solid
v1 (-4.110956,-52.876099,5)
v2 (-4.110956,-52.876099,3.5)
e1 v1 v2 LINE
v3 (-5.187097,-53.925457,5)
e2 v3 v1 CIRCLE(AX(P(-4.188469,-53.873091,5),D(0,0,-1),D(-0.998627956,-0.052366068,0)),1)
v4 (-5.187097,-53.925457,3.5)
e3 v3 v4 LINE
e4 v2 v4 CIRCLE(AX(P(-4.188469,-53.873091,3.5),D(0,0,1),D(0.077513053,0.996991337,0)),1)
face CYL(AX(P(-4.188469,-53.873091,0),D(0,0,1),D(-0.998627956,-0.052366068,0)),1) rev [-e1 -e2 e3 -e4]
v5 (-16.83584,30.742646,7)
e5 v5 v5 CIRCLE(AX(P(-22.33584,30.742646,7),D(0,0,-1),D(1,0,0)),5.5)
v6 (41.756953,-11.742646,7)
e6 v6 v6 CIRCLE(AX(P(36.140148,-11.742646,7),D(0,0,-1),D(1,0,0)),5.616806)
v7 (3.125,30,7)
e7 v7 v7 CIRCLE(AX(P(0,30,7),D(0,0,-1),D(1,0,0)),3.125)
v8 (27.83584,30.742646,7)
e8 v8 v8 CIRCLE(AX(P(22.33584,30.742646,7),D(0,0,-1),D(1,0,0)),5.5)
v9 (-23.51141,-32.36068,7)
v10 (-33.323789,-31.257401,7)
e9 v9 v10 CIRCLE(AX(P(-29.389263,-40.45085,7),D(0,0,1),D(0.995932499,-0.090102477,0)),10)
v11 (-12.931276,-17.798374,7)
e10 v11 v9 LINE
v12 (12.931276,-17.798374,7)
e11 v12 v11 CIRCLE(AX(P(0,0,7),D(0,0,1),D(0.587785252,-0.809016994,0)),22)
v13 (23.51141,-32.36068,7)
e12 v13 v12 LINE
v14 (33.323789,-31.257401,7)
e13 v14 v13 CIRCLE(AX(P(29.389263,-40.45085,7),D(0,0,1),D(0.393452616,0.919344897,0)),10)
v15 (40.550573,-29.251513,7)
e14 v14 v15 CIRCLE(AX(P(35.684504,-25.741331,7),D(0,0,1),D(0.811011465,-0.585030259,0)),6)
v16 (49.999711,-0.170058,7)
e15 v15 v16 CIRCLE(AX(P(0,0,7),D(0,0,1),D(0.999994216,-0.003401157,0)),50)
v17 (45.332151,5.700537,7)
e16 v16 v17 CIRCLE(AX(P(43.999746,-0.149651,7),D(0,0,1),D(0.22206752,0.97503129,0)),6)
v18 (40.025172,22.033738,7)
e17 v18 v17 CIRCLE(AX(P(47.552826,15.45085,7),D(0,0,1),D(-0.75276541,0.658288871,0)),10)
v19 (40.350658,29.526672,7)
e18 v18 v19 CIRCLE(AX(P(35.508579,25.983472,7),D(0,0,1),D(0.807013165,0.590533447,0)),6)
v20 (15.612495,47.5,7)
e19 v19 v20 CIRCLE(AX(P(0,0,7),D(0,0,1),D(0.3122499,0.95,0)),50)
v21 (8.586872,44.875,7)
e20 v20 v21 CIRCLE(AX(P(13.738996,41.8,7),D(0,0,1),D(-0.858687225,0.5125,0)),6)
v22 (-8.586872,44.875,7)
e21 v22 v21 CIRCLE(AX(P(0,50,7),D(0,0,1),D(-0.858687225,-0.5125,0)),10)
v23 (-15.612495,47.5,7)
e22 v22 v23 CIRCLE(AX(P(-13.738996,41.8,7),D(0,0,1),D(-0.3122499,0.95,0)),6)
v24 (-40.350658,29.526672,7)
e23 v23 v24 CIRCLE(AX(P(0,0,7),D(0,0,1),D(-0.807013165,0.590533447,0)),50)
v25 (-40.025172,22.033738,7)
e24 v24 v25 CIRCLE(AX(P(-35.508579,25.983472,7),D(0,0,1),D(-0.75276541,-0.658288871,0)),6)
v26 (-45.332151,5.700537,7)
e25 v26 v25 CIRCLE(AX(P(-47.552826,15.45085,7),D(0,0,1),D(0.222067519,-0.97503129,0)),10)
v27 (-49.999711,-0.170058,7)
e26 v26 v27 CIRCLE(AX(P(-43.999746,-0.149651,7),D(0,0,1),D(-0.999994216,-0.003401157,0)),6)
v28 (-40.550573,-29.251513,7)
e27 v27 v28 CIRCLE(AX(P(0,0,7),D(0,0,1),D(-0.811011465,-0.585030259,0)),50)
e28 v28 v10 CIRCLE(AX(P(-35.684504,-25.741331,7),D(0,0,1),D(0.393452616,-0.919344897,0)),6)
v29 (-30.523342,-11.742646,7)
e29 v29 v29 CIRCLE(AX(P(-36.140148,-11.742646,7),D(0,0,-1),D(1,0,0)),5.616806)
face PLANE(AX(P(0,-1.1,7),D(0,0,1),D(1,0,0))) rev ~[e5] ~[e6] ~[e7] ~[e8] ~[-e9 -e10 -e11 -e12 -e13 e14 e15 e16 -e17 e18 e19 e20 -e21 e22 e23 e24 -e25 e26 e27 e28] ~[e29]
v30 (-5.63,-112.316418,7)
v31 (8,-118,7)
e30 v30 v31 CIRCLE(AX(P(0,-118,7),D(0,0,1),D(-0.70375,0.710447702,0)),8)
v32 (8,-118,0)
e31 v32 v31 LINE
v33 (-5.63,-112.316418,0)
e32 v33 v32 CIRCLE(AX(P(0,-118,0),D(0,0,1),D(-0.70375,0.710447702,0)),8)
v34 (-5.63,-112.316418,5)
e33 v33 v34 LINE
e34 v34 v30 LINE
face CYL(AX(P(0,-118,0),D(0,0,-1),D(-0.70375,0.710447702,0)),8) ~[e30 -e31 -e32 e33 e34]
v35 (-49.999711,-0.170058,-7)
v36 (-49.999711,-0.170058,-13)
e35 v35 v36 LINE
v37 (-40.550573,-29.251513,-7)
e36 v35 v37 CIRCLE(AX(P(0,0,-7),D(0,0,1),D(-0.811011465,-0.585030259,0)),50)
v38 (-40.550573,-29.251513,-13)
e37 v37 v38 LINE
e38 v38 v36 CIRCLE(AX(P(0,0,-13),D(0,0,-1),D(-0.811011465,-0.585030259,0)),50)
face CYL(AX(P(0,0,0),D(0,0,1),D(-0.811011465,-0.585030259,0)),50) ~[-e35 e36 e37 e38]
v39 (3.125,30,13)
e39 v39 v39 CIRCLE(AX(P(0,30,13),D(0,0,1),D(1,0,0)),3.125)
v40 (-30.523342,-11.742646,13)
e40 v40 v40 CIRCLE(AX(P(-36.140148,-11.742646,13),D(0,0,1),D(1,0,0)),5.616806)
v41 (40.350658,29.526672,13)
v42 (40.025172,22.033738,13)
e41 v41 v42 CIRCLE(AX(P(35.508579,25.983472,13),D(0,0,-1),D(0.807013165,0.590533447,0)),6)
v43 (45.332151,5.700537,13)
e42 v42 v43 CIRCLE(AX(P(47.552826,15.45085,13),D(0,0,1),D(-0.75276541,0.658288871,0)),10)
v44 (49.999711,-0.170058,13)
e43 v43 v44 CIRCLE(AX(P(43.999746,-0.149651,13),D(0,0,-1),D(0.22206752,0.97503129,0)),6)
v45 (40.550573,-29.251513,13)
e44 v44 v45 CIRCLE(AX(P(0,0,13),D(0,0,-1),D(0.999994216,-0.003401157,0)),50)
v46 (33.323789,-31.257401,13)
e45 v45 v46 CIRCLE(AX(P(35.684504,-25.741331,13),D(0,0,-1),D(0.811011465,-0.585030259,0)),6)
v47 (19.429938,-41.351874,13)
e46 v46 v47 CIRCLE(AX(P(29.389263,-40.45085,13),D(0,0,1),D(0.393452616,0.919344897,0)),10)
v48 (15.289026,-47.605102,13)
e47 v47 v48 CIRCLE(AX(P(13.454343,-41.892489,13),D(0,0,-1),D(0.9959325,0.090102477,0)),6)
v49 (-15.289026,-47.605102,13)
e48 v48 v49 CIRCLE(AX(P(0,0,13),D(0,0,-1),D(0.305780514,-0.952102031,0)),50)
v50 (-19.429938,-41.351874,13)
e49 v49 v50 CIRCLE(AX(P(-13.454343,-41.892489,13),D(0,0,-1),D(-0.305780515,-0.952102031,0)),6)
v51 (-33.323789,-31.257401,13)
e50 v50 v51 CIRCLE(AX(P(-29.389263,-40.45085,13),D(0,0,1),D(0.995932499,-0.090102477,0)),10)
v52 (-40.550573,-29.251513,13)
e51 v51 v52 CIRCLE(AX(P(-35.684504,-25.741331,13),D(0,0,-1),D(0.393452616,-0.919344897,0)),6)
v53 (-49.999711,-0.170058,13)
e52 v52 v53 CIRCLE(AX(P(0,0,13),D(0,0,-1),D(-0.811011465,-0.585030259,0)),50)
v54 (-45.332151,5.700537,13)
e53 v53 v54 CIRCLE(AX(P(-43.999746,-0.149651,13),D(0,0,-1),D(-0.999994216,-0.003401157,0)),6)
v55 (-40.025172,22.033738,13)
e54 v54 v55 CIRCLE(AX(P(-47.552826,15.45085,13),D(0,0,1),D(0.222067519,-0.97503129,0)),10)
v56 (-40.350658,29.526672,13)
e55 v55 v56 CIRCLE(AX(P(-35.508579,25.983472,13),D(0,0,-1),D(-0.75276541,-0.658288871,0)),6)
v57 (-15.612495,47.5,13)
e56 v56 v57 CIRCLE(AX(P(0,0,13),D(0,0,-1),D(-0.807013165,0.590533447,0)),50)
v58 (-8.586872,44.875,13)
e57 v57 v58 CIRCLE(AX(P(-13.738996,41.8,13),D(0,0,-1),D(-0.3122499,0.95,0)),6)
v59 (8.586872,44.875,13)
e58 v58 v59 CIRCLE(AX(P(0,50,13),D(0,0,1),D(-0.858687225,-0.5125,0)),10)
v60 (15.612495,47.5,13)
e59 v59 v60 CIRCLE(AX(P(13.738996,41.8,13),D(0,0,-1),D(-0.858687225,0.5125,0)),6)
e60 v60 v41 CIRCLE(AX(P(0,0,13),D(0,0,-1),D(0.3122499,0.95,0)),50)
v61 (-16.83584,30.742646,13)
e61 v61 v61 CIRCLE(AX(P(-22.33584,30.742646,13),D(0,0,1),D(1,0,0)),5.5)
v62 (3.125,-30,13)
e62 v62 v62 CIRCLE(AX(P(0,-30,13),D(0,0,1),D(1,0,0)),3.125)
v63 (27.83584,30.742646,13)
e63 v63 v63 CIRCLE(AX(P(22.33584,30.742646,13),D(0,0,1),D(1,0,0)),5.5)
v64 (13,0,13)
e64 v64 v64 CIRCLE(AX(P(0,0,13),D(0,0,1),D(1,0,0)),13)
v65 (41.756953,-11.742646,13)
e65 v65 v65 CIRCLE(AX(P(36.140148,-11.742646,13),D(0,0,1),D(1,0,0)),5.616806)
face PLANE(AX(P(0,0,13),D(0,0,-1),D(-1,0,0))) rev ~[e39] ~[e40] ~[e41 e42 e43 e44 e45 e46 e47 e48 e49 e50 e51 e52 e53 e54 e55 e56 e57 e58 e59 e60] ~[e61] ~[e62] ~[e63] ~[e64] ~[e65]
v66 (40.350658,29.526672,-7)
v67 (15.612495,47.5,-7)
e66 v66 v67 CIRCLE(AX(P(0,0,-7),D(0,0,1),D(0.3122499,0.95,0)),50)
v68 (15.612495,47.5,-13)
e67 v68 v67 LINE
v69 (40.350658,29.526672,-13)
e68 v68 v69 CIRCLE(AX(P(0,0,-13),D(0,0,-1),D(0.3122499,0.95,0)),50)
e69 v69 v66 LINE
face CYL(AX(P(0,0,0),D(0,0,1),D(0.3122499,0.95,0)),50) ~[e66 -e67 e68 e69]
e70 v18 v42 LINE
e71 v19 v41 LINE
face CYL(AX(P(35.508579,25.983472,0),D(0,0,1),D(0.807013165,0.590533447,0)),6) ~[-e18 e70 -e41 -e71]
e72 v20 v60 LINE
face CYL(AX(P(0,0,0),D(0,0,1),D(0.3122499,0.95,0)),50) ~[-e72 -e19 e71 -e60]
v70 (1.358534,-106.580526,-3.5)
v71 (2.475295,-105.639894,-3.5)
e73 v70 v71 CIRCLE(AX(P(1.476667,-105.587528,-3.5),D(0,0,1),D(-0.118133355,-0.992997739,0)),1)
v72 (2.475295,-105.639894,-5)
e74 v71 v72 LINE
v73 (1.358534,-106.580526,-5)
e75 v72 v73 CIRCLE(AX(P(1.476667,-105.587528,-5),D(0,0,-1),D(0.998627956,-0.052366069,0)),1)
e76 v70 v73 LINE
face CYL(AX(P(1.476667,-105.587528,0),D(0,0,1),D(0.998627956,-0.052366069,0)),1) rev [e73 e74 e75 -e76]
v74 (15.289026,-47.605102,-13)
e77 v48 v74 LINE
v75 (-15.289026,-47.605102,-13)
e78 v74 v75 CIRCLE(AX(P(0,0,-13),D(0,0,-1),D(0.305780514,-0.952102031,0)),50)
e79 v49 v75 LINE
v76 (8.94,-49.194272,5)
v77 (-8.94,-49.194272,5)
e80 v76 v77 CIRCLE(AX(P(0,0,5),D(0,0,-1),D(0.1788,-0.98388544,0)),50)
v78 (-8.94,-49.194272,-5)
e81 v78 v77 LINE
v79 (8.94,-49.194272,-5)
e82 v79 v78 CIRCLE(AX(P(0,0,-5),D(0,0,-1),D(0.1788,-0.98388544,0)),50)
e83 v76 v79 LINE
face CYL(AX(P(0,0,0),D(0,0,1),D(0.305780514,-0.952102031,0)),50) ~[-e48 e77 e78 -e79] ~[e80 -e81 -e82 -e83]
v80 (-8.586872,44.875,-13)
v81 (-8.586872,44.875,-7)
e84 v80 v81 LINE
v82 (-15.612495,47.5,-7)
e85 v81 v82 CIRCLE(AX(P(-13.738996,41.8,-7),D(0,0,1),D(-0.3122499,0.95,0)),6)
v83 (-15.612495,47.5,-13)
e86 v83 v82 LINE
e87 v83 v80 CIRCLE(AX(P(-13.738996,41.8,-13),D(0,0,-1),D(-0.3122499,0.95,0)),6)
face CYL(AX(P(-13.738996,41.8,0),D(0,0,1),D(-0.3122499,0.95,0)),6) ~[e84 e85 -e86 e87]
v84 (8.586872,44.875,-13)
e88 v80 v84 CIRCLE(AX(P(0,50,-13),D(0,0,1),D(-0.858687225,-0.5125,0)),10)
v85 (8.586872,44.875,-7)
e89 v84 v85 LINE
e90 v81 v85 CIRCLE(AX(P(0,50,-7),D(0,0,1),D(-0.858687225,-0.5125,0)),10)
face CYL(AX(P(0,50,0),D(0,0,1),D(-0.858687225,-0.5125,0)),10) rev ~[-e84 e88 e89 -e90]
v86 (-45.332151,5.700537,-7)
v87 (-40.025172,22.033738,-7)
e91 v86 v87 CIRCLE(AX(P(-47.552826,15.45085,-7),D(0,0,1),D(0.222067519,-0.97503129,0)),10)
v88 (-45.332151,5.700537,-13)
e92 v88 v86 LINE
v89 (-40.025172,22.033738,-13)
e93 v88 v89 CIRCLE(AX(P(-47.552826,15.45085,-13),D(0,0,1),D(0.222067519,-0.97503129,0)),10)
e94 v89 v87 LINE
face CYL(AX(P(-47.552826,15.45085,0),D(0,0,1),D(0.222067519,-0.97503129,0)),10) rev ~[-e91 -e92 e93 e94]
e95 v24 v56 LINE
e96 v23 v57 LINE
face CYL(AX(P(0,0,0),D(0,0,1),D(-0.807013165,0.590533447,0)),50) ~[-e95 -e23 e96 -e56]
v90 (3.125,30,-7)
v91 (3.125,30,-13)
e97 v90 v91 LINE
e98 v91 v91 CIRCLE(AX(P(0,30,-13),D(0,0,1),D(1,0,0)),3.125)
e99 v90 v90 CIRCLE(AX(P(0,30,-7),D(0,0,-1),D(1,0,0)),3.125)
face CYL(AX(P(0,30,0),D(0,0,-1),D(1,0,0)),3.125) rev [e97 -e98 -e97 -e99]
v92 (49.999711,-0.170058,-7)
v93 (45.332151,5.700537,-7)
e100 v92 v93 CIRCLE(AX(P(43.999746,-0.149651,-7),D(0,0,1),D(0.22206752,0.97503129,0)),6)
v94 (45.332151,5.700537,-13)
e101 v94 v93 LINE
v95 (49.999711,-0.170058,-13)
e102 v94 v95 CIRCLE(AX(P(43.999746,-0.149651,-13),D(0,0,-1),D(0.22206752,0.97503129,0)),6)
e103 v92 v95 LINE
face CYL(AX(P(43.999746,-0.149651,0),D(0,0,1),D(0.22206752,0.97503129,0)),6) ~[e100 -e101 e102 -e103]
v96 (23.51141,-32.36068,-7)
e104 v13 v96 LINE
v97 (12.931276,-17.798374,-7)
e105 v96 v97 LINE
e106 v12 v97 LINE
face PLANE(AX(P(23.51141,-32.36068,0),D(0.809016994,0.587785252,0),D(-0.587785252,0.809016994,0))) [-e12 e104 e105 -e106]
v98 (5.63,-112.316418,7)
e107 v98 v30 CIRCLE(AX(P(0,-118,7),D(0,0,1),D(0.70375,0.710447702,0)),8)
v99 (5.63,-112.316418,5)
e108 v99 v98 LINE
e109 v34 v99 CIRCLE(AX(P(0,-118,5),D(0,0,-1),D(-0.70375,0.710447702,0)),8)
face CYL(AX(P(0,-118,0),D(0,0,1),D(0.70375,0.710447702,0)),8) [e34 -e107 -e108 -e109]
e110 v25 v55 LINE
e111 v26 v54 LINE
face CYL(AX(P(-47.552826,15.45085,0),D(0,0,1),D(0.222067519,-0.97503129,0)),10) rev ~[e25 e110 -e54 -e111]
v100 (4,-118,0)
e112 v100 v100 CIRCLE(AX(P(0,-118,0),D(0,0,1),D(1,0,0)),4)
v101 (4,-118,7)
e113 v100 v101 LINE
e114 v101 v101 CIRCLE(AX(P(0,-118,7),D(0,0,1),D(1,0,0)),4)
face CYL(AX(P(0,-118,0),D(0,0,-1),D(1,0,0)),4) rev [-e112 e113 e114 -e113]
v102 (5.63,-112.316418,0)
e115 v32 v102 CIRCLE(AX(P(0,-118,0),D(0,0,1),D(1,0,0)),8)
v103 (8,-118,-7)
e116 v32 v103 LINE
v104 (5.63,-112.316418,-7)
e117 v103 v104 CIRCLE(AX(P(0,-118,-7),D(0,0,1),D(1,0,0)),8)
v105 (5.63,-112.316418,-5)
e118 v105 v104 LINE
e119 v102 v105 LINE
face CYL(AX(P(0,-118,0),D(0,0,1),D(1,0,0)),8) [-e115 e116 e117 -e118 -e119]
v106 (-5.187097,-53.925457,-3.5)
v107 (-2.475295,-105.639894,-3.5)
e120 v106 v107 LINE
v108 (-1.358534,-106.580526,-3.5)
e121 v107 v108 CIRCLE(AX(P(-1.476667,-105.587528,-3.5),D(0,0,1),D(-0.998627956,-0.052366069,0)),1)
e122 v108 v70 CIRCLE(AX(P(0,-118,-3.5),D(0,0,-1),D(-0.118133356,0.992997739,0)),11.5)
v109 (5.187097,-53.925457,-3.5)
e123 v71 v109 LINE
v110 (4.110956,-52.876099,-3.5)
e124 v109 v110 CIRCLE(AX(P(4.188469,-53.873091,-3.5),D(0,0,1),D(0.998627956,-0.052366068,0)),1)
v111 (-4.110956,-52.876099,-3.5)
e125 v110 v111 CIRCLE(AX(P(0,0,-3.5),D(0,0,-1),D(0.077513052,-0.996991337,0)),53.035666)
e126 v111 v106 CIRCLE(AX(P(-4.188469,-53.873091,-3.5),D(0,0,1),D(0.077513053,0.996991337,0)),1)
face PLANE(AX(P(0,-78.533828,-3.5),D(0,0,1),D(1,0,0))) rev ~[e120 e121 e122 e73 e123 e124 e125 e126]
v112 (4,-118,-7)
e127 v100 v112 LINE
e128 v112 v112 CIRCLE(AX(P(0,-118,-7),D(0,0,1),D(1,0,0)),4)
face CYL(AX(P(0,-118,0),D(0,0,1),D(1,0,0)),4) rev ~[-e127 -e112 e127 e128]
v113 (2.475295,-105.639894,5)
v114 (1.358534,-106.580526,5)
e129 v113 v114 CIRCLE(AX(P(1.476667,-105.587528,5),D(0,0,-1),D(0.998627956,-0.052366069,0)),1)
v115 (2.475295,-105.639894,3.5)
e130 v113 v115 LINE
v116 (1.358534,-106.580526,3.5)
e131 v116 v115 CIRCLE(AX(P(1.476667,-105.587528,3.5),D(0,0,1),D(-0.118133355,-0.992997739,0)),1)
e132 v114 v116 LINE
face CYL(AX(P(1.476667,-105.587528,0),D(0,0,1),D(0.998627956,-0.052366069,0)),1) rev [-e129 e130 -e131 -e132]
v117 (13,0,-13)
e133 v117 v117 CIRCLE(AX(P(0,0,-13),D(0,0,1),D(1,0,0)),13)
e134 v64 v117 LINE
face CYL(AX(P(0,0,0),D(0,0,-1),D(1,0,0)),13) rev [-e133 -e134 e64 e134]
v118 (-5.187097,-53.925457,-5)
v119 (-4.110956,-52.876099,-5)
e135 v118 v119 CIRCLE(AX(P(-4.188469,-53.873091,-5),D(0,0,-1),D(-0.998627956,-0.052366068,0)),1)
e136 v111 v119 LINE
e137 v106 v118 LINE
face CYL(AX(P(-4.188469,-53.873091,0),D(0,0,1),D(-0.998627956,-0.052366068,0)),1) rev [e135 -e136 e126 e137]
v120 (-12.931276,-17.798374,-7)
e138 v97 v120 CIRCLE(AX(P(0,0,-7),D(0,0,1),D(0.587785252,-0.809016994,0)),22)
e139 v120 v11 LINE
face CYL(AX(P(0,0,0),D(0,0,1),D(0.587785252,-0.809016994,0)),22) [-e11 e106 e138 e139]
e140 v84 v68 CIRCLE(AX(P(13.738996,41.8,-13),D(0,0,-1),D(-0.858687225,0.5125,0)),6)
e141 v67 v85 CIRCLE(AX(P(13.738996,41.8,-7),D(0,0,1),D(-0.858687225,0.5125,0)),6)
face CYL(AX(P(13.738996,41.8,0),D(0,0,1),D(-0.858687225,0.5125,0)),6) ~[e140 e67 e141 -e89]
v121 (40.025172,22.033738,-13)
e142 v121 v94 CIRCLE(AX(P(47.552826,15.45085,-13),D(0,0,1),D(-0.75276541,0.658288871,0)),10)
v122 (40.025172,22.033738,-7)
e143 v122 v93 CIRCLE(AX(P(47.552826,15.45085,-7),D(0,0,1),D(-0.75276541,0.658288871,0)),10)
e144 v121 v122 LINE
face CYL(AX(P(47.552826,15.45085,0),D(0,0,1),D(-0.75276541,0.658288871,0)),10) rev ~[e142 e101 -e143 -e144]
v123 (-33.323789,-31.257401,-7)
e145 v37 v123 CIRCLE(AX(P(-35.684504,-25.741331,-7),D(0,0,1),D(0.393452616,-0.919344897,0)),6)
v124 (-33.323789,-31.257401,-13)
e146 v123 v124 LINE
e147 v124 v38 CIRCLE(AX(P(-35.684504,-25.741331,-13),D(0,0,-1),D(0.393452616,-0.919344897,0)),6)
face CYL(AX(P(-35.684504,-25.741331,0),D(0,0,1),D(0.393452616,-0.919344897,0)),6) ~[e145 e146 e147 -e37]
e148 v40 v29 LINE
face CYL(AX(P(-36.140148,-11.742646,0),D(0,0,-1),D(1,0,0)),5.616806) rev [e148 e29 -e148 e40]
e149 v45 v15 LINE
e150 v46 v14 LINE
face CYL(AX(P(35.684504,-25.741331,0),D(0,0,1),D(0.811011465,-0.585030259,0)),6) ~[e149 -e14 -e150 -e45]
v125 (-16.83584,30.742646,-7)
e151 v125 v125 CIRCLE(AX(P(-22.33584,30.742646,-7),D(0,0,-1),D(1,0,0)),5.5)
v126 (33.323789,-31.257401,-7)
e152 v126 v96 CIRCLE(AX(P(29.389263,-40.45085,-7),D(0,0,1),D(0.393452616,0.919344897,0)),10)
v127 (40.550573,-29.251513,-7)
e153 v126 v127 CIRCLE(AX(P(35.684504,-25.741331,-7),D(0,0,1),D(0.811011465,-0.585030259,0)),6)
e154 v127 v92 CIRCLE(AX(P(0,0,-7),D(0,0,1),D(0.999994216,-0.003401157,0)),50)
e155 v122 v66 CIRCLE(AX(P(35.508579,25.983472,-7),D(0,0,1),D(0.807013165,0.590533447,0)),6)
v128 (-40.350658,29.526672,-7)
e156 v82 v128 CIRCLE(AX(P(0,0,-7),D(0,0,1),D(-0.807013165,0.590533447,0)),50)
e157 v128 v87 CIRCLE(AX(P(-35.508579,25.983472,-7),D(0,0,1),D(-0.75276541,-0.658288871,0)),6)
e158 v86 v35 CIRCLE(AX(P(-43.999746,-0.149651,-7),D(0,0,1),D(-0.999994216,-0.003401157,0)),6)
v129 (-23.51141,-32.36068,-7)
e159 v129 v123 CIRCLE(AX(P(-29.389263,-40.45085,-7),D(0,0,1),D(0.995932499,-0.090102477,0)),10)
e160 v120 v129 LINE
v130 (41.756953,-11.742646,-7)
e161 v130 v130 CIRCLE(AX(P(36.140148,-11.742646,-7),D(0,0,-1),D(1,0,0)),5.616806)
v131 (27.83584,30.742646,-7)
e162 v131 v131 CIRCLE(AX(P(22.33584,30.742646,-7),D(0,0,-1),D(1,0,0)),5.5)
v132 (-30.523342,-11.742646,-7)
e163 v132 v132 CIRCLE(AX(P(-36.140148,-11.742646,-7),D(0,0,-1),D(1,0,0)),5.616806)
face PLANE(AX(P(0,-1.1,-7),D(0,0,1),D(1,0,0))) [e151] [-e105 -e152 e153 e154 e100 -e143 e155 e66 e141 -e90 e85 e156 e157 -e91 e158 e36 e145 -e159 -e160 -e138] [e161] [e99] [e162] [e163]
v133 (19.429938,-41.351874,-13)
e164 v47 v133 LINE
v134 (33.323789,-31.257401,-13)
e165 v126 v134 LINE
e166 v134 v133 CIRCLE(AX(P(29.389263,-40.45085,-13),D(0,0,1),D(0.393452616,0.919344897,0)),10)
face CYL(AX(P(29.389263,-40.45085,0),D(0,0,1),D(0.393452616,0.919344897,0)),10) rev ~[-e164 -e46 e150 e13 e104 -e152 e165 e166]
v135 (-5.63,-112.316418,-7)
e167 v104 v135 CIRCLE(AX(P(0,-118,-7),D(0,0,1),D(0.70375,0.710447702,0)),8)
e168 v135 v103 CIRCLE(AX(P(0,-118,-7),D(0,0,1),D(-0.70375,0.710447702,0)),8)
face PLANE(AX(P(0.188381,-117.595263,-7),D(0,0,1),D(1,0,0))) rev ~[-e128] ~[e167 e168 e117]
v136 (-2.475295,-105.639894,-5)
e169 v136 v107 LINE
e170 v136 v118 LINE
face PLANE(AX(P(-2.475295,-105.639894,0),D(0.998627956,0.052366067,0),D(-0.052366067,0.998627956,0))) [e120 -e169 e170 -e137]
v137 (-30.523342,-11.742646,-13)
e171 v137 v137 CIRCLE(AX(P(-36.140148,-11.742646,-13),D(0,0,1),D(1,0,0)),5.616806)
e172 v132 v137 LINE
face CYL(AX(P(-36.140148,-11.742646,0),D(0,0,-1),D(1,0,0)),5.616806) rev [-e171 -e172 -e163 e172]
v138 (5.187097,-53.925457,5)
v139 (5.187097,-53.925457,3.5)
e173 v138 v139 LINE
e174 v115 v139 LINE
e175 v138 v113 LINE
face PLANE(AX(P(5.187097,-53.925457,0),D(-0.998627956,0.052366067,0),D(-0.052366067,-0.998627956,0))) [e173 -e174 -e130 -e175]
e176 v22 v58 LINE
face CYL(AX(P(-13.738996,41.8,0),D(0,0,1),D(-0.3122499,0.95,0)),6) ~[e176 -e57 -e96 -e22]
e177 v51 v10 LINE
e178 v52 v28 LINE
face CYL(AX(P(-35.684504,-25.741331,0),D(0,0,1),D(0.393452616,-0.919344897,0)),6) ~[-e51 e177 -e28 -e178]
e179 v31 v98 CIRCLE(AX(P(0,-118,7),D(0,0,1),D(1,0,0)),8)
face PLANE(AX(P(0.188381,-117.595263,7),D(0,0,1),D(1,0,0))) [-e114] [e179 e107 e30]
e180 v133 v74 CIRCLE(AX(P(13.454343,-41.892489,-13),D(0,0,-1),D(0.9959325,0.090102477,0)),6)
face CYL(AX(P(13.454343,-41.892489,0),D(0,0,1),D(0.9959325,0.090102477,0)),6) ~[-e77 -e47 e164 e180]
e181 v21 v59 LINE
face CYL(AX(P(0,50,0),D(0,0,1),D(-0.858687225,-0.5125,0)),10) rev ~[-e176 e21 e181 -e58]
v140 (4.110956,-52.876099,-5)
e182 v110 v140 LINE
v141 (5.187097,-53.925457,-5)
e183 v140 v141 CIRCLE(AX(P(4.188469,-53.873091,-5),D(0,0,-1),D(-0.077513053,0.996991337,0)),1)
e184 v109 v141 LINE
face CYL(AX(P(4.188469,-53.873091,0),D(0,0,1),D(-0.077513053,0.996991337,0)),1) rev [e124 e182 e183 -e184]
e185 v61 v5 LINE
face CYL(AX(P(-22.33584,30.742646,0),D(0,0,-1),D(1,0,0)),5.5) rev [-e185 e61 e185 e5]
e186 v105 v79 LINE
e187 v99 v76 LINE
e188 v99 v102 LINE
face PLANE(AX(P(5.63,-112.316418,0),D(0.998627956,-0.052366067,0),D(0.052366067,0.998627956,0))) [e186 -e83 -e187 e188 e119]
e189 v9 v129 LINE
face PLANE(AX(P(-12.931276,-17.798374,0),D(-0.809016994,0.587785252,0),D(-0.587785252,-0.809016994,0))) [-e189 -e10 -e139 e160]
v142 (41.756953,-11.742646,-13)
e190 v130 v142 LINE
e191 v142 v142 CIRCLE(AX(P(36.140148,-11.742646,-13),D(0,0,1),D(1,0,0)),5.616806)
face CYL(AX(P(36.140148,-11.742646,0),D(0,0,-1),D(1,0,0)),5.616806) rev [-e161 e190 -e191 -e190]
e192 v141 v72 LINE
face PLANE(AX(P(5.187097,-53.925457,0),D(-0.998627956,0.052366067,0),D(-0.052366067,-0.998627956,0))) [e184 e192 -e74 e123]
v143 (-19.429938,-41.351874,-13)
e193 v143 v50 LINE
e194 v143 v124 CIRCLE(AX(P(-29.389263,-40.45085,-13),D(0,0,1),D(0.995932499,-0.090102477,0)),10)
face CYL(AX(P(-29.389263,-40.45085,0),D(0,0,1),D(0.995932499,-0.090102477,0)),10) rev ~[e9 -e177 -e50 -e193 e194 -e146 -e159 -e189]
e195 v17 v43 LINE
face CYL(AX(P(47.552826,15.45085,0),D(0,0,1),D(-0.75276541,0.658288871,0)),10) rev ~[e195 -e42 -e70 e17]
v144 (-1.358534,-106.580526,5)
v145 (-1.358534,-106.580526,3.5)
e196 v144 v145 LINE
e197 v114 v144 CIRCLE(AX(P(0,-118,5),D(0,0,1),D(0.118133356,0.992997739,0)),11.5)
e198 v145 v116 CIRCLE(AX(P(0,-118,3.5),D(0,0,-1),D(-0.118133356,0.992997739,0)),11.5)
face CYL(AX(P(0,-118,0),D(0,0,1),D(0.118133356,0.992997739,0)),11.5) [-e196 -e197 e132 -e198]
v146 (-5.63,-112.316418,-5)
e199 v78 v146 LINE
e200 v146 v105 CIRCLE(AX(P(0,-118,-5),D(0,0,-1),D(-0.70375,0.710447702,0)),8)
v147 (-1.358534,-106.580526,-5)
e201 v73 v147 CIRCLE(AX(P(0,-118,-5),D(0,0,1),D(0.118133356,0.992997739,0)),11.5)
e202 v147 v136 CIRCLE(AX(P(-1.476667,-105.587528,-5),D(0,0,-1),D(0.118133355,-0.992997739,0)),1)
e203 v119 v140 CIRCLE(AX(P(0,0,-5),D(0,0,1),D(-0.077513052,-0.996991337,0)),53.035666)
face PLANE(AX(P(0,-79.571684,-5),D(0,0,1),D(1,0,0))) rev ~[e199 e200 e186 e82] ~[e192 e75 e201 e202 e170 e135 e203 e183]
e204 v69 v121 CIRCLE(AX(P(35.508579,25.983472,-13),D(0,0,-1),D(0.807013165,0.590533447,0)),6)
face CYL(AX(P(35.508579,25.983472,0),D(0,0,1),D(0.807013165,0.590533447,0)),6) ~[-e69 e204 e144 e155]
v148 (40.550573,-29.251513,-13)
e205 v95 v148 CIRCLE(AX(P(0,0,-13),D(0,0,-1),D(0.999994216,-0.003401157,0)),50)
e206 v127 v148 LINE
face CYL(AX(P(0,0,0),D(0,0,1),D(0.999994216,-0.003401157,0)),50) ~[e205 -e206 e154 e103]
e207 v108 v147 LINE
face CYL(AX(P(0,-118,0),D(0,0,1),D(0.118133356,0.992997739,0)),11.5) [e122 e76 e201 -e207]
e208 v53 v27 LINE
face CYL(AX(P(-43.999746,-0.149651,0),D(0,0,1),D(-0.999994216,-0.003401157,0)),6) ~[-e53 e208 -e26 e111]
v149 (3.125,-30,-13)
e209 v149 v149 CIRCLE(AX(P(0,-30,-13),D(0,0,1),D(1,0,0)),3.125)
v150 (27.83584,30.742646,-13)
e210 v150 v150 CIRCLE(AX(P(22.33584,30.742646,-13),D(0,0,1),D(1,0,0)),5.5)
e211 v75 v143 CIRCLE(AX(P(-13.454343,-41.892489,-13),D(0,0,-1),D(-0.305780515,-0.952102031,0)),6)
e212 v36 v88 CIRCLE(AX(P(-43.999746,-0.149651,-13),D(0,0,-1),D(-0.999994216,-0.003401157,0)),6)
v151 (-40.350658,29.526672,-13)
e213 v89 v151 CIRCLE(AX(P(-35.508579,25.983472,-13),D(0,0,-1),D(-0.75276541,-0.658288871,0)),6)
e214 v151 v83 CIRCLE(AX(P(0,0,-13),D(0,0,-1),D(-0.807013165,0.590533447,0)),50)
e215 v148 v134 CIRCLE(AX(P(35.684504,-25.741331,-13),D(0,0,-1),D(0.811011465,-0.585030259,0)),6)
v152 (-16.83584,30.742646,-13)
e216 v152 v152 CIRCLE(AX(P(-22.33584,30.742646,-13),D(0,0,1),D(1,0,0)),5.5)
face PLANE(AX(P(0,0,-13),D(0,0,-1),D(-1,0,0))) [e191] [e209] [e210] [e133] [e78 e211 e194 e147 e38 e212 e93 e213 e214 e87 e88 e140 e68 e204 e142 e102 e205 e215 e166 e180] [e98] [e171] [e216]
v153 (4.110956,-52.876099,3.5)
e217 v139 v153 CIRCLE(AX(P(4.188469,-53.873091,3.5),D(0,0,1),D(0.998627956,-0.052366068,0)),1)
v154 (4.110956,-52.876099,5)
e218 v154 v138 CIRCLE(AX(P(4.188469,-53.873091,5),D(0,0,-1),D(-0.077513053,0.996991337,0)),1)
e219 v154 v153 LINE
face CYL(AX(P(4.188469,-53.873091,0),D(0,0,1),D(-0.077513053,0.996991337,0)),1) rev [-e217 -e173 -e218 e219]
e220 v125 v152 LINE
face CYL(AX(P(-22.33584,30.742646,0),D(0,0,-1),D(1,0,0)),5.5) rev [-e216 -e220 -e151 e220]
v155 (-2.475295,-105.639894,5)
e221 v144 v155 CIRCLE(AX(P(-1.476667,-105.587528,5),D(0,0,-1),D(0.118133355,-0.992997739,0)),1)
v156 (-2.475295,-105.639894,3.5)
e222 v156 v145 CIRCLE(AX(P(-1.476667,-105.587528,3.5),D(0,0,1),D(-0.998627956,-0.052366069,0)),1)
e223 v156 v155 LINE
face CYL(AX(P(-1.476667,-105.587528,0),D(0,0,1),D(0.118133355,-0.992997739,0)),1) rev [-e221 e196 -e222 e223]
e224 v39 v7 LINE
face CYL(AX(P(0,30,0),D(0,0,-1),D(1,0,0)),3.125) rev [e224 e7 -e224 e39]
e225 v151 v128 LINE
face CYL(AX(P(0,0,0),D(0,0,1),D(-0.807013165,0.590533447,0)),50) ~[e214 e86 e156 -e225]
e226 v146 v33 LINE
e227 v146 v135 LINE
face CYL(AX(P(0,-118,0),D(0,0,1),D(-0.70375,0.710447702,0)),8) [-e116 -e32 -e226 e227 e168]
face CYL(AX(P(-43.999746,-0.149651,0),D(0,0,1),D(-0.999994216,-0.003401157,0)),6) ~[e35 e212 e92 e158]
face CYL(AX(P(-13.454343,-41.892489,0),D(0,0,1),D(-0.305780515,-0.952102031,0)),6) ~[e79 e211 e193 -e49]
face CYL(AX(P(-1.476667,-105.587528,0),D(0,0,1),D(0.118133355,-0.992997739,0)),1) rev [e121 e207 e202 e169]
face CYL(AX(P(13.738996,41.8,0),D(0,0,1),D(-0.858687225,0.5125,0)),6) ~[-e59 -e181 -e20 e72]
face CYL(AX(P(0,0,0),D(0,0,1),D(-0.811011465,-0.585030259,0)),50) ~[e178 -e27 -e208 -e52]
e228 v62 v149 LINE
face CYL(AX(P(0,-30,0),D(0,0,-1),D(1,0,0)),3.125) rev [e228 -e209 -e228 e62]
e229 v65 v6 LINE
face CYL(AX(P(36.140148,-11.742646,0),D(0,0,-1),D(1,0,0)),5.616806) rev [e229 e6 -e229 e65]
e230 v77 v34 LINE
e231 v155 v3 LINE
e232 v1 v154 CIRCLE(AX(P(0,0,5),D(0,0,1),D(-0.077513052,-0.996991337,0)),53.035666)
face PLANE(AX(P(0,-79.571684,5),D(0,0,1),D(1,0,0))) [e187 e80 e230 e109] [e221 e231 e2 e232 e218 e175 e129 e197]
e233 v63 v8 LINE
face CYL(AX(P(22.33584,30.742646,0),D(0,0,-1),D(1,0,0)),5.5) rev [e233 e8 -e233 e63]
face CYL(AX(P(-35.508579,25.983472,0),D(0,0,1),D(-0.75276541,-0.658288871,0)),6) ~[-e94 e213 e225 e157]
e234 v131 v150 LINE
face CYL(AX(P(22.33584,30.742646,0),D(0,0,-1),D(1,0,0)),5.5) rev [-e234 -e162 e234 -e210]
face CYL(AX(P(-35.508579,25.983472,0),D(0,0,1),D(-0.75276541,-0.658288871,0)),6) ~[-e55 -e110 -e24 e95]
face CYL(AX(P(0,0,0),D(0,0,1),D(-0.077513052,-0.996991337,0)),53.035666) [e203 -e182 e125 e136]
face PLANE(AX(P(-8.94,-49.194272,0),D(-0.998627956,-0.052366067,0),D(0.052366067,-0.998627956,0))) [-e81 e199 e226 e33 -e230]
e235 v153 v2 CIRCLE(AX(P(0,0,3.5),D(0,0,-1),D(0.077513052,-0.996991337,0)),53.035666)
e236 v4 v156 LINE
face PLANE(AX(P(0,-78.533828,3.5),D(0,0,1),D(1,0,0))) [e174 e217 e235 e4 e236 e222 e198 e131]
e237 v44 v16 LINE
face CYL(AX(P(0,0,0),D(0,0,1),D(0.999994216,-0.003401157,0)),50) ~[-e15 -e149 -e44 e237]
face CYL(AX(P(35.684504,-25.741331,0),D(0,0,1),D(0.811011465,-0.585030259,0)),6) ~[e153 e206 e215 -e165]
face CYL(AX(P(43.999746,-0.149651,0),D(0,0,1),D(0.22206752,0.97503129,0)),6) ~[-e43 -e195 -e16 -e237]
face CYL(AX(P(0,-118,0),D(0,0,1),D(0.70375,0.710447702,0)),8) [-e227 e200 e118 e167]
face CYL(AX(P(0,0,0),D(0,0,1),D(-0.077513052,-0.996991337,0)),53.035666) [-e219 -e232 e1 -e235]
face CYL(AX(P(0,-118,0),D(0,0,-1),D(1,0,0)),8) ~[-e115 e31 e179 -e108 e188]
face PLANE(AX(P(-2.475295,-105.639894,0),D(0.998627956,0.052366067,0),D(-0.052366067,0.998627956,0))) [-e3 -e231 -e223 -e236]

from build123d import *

# Parameters (mm, degrees)
SKETCH1_R           = 13
SKETCH1_R_2         = 3.125
SKETCH1_R_3         = 5.5
SKETCH1_R_4         = 5.616805682
BOSS_EXTRUDE2_DEPTH = 13
SKETCH3_OUTSIDE_W   = 130.454
SKETCH3_OUTSIDE_H   = 128.254
CUT_EXTRUDE2_DEPTH  = 7
BOSS_EXTRUDE3_DEPTH = 3.5
BOSS_EXTRUDE4_DEPTH = 5
SKETCH6_R           = 4
BOSS_EXTRUDE5_DEPTH = 7


with BuildPart() as part:
    # Sketch1 → Boss-Extrude2 (new body, symmetric)
    with BuildSketch(Plane.XY):
        with BuildLine():
            ThreePointArc((45.332150622, 5.700536817), (48.696221254, 3.58439722), (49.999710802, -0.170057869))
            ThreePointArc((49.999710802, -0.170057869), (47.552825815, -15.450849719), (40.55057326, -29.251512923))
            ThreePointArc((40.55057326, -29.251512923), (37.289214732, -31.522758961), (33.323788774, -31.257400752))
            ThreePointArc((33.323788774, -31.257400752), (23.511410092, -32.360679775), (19.42993762, -41.351874493))
            ThreePointArc((19.42993762, -41.351874493), (18.456924262, -45.205218887), (15.289025708, -47.605101543))
            ThreePointArc((15.289025708, -47.605101543), (0, -50), (-15.289025708, -47.605101543))
            ThreePointArc((-15.289025708, -47.605101543), (-18.456924262, -45.205218887), (-19.42993762, -41.351874493))
            ThreePointArc((-19.42993762, -41.351874493), (-23.511410092, -32.360679775), (-33.323788774, -31.257400752))
            ThreePointArc((-33.323788774, -31.257400752), (-37.289214732, -31.522758961), (-40.55057326, -29.251512923))
            ThreePointArc((-40.55057326, -29.251512923), (-47.552825815, -15.450849719), (-49.999710802, -0.170057869))
            ThreePointArc((-49.999710802, -0.170057869), (-48.696221254, 3.58439722), (-45.332150622, 5.700536817))
            ThreePointArc((-45.332150622, 5.700536817), (-38.042260652, 12.360679775), (-40.025171716, 22.033738428))
            ThreePointArc((-40.025171716, 22.033738428), (-41.502926381, 25.72308243), (-40.350658246, 29.526672334))
            ThreePointArc((-40.350658246, 29.526672334), (-29.389262615, 40.450849719), (-15.612494996, 47.5))
            ThreePointArc((-15.612494996, 47.5), (-11.638995596, 47.420498199), (-8.586872248, 44.875))
            ThreePointArc((-8.586872248, 44.875), (0, 40), (8.586872248, 44.875))
            ThreePointArc((8.586872248, 44.875), (11.638995596, 47.420498199), (15.612494996, 47.5))
            ThreePointArc((15.612494996, 47.5), (29.389262615, 40.450849719), (40.350658246, 29.526672334))
            ThreePointArc((40.350658246, 29.526672334), (41.502926381, 25.72308243), (40.025171716, 22.033738428))
            ThreePointArc((40.025171716, 22.033738428), (38.042260652, 12.360679775), (45.332150622, 5.700536817))
        make_face()
        Circle(SKETCH1_R, mode=Mode.SUBTRACT)
        with Locations((0, -30)):
            Circle(SKETCH1_R_2, mode=Mode.SUBTRACT)
        with Locations((0, 30)):
            Circle(SKETCH1_R_2, mode=Mode.SUBTRACT)
        with Locations((22.335839587, 30.742645786)):
            Circle(SKETCH1_R_3, mode=Mode.SUBTRACT)
        with Locations((-22.335839587, 30.742645786)):
            Circle(SKETCH1_R_3, mode=Mode.SUBTRACT)
        with Locations((-36.140147619, -11.742645786)):
            Circle(SKETCH1_R_4, mode=Mode.SUBTRACT)
        with Locations((36.140147619, -11.742645786)):
            Circle(SKETCH1_R_4, mode=Mode.SUBTRACT)
    extrude(amount=BOSS_EXTRUDE2_DEPTH, both=True)

    # Sketch3 outside → Cut-Extrude2 (cut, symmetric)
    with BuildSketch(Plane.XY):
        with Locations((0, -1.1)):
            Rectangle(SKETCH3_OUTSIDE_W, SKETCH3_OUTSIDE_H)
        with BuildLine():
            Line((-12.93127555, -17.798373876), (-23.511410092, -32.360679775))
            ThreePointArc((-23.511410092, -32.360679775), (-20.283525766, -36.317381871), (-19.42993762, -41.351874493))
            ThreePointArc((-19.42993762, -41.351874493), (-18.456924262, -45.205218887), (-15.289025708, -47.605101543))
            ThreePointArc((-15.289025708, -47.605101543), (0, -50), (15.289025708, -47.605101543))
            ThreePointArc((15.289025708, -47.605101543), (18.456924262, -45.205218887), (19.42993762, -41.351874493))
            ThreePointArc((19.42993762, -41.351874493), (20.283525766, -36.317381871), (23.511410092, -32.360679775))
            Line((23.511410092, -32.360679775), (12.93127555, -17.798373876))
            ThreePointArc((12.93127555, -17.798373876), (0, 22), (-12.93127555, -17.798373876))
        make_face(mode=Mode.SUBTRACT)
    extrude(amount=CUT_EXTRUDE2_DEPTH, both=True, mode=Mode.SUBTRACT)



with BuildPart() as body_2:
    # Sketch4 → Boss-Extrude3 (new body, symmetric)
    with BuildSketch(Plane.XY):
        with BuildLine():
            Line((-5.187097318, -53.92545674), (-2.475294912, -105.639894327))
            ThreePointArc((-2.475294912, -105.639894327), (-2.120883278, -106.352371596), (-1.358533599, -106.580525999))
            ThreePointArc((-1.358533599, -106.580525999), (0, -106.5), (1.358533599, -106.580525999))
            ThreePointArc((1.358533599, -106.580525999), (2.120883278, -106.352371596), (2.475294912, -105.639894327))
            Line((2.475294912, -105.639894327), (5.187097318, -53.92545674))
            ThreePointArc((5.187097318, -53.92545674), (4.886610399, -53.157130414), (4.11095631, -52.876099336))
            ThreePointArc((4.11095631, -52.876099336), (0, -53.035665761), (-4.11095631, -52.876099336))
            ThreePointArc((-4.11095631, -52.876099336), (-4.886610399, -53.157130414), (-5.187097318, -53.92545674))
        make_face()
    extrude(amount=BOSS_EXTRUDE3_DEPTH, both=True)


with BuildPart() as part_1:
    add(part.part)

    add(body_2.part)  # Boss-Extrude4 merges body 2
    # Sketch5 → Boss-Extrude4 (add, symmetric)
    with BuildSketch(Plane.XY):
        with BuildLine():
            ThreePointArc((8.94, -49.194272024), (0, -50), (-8.94, -49.194272024))
            Line((-8.94, -49.194272024), (-5.63, -112.316418383))
            ThreePointArc((-5.63, -112.316418383), (0, -110), (5.63, -112.316418383))
            Line((5.63, -112.316418383), (8.94, -49.194272024))
        make_face()
        with BuildLine():
            Line((-2.475294912, -105.639894327), (-5.187097318, -53.92545674))
            ThreePointArc((-5.187097318, -53.92545674), (-4.886610399, -53.157130414), (-4.11095631, -52.876099336))
            ThreePointArc((-4.11095631, -52.876099336), (0, -53.035665761), (4.11095631, -52.876099336))
            ThreePointArc((4.11095631, -52.876099336), (4.886610399, -53.157130414), (5.187097318, -53.92545674))
            Line((5.187097318, -53.92545674), (2.475294912, -105.639894327))
            ThreePointArc((2.475294912, -105.639894327), (2.120883278, -106.352371596), (1.358533599, -106.580525999))
            ThreePointArc((1.358533599, -106.580525999), (0, -106.5), (-1.358533599, -106.580525999))
            ThreePointArc((-1.358533599, -106.580525999), (-2.120883278, -106.352371596), (-2.475294912, -105.639894327))
        make_face(mode=Mode.SUBTRACT)
    extrude(amount=BOSS_EXTRUDE4_DEPTH, both=True)

    # Sketch6 → Boss-Extrude5 (add, symmetric)
    with BuildSketch(Plane.XY):
        with BuildLine():
            ThreePointArc((5.63, -112.316418383), (0, -110), (-5.63, -112.316418383))
            ThreePointArc((-5.63, -112.316418383), (-3.078960864, -125.383765977), (8, -118))
            ThreePointArc((8, -118), (7.383765977, -114.921039136), (5.63, -112.316418383))
        make_face()
        with Locations((0, -118)):
            Circle(SKETCH6_R, mode=Mode.SUBTRACT)
    extrude(amount=BOSS_EXTRUDE5_DEPTH, both=True)


solid = part_1.part
